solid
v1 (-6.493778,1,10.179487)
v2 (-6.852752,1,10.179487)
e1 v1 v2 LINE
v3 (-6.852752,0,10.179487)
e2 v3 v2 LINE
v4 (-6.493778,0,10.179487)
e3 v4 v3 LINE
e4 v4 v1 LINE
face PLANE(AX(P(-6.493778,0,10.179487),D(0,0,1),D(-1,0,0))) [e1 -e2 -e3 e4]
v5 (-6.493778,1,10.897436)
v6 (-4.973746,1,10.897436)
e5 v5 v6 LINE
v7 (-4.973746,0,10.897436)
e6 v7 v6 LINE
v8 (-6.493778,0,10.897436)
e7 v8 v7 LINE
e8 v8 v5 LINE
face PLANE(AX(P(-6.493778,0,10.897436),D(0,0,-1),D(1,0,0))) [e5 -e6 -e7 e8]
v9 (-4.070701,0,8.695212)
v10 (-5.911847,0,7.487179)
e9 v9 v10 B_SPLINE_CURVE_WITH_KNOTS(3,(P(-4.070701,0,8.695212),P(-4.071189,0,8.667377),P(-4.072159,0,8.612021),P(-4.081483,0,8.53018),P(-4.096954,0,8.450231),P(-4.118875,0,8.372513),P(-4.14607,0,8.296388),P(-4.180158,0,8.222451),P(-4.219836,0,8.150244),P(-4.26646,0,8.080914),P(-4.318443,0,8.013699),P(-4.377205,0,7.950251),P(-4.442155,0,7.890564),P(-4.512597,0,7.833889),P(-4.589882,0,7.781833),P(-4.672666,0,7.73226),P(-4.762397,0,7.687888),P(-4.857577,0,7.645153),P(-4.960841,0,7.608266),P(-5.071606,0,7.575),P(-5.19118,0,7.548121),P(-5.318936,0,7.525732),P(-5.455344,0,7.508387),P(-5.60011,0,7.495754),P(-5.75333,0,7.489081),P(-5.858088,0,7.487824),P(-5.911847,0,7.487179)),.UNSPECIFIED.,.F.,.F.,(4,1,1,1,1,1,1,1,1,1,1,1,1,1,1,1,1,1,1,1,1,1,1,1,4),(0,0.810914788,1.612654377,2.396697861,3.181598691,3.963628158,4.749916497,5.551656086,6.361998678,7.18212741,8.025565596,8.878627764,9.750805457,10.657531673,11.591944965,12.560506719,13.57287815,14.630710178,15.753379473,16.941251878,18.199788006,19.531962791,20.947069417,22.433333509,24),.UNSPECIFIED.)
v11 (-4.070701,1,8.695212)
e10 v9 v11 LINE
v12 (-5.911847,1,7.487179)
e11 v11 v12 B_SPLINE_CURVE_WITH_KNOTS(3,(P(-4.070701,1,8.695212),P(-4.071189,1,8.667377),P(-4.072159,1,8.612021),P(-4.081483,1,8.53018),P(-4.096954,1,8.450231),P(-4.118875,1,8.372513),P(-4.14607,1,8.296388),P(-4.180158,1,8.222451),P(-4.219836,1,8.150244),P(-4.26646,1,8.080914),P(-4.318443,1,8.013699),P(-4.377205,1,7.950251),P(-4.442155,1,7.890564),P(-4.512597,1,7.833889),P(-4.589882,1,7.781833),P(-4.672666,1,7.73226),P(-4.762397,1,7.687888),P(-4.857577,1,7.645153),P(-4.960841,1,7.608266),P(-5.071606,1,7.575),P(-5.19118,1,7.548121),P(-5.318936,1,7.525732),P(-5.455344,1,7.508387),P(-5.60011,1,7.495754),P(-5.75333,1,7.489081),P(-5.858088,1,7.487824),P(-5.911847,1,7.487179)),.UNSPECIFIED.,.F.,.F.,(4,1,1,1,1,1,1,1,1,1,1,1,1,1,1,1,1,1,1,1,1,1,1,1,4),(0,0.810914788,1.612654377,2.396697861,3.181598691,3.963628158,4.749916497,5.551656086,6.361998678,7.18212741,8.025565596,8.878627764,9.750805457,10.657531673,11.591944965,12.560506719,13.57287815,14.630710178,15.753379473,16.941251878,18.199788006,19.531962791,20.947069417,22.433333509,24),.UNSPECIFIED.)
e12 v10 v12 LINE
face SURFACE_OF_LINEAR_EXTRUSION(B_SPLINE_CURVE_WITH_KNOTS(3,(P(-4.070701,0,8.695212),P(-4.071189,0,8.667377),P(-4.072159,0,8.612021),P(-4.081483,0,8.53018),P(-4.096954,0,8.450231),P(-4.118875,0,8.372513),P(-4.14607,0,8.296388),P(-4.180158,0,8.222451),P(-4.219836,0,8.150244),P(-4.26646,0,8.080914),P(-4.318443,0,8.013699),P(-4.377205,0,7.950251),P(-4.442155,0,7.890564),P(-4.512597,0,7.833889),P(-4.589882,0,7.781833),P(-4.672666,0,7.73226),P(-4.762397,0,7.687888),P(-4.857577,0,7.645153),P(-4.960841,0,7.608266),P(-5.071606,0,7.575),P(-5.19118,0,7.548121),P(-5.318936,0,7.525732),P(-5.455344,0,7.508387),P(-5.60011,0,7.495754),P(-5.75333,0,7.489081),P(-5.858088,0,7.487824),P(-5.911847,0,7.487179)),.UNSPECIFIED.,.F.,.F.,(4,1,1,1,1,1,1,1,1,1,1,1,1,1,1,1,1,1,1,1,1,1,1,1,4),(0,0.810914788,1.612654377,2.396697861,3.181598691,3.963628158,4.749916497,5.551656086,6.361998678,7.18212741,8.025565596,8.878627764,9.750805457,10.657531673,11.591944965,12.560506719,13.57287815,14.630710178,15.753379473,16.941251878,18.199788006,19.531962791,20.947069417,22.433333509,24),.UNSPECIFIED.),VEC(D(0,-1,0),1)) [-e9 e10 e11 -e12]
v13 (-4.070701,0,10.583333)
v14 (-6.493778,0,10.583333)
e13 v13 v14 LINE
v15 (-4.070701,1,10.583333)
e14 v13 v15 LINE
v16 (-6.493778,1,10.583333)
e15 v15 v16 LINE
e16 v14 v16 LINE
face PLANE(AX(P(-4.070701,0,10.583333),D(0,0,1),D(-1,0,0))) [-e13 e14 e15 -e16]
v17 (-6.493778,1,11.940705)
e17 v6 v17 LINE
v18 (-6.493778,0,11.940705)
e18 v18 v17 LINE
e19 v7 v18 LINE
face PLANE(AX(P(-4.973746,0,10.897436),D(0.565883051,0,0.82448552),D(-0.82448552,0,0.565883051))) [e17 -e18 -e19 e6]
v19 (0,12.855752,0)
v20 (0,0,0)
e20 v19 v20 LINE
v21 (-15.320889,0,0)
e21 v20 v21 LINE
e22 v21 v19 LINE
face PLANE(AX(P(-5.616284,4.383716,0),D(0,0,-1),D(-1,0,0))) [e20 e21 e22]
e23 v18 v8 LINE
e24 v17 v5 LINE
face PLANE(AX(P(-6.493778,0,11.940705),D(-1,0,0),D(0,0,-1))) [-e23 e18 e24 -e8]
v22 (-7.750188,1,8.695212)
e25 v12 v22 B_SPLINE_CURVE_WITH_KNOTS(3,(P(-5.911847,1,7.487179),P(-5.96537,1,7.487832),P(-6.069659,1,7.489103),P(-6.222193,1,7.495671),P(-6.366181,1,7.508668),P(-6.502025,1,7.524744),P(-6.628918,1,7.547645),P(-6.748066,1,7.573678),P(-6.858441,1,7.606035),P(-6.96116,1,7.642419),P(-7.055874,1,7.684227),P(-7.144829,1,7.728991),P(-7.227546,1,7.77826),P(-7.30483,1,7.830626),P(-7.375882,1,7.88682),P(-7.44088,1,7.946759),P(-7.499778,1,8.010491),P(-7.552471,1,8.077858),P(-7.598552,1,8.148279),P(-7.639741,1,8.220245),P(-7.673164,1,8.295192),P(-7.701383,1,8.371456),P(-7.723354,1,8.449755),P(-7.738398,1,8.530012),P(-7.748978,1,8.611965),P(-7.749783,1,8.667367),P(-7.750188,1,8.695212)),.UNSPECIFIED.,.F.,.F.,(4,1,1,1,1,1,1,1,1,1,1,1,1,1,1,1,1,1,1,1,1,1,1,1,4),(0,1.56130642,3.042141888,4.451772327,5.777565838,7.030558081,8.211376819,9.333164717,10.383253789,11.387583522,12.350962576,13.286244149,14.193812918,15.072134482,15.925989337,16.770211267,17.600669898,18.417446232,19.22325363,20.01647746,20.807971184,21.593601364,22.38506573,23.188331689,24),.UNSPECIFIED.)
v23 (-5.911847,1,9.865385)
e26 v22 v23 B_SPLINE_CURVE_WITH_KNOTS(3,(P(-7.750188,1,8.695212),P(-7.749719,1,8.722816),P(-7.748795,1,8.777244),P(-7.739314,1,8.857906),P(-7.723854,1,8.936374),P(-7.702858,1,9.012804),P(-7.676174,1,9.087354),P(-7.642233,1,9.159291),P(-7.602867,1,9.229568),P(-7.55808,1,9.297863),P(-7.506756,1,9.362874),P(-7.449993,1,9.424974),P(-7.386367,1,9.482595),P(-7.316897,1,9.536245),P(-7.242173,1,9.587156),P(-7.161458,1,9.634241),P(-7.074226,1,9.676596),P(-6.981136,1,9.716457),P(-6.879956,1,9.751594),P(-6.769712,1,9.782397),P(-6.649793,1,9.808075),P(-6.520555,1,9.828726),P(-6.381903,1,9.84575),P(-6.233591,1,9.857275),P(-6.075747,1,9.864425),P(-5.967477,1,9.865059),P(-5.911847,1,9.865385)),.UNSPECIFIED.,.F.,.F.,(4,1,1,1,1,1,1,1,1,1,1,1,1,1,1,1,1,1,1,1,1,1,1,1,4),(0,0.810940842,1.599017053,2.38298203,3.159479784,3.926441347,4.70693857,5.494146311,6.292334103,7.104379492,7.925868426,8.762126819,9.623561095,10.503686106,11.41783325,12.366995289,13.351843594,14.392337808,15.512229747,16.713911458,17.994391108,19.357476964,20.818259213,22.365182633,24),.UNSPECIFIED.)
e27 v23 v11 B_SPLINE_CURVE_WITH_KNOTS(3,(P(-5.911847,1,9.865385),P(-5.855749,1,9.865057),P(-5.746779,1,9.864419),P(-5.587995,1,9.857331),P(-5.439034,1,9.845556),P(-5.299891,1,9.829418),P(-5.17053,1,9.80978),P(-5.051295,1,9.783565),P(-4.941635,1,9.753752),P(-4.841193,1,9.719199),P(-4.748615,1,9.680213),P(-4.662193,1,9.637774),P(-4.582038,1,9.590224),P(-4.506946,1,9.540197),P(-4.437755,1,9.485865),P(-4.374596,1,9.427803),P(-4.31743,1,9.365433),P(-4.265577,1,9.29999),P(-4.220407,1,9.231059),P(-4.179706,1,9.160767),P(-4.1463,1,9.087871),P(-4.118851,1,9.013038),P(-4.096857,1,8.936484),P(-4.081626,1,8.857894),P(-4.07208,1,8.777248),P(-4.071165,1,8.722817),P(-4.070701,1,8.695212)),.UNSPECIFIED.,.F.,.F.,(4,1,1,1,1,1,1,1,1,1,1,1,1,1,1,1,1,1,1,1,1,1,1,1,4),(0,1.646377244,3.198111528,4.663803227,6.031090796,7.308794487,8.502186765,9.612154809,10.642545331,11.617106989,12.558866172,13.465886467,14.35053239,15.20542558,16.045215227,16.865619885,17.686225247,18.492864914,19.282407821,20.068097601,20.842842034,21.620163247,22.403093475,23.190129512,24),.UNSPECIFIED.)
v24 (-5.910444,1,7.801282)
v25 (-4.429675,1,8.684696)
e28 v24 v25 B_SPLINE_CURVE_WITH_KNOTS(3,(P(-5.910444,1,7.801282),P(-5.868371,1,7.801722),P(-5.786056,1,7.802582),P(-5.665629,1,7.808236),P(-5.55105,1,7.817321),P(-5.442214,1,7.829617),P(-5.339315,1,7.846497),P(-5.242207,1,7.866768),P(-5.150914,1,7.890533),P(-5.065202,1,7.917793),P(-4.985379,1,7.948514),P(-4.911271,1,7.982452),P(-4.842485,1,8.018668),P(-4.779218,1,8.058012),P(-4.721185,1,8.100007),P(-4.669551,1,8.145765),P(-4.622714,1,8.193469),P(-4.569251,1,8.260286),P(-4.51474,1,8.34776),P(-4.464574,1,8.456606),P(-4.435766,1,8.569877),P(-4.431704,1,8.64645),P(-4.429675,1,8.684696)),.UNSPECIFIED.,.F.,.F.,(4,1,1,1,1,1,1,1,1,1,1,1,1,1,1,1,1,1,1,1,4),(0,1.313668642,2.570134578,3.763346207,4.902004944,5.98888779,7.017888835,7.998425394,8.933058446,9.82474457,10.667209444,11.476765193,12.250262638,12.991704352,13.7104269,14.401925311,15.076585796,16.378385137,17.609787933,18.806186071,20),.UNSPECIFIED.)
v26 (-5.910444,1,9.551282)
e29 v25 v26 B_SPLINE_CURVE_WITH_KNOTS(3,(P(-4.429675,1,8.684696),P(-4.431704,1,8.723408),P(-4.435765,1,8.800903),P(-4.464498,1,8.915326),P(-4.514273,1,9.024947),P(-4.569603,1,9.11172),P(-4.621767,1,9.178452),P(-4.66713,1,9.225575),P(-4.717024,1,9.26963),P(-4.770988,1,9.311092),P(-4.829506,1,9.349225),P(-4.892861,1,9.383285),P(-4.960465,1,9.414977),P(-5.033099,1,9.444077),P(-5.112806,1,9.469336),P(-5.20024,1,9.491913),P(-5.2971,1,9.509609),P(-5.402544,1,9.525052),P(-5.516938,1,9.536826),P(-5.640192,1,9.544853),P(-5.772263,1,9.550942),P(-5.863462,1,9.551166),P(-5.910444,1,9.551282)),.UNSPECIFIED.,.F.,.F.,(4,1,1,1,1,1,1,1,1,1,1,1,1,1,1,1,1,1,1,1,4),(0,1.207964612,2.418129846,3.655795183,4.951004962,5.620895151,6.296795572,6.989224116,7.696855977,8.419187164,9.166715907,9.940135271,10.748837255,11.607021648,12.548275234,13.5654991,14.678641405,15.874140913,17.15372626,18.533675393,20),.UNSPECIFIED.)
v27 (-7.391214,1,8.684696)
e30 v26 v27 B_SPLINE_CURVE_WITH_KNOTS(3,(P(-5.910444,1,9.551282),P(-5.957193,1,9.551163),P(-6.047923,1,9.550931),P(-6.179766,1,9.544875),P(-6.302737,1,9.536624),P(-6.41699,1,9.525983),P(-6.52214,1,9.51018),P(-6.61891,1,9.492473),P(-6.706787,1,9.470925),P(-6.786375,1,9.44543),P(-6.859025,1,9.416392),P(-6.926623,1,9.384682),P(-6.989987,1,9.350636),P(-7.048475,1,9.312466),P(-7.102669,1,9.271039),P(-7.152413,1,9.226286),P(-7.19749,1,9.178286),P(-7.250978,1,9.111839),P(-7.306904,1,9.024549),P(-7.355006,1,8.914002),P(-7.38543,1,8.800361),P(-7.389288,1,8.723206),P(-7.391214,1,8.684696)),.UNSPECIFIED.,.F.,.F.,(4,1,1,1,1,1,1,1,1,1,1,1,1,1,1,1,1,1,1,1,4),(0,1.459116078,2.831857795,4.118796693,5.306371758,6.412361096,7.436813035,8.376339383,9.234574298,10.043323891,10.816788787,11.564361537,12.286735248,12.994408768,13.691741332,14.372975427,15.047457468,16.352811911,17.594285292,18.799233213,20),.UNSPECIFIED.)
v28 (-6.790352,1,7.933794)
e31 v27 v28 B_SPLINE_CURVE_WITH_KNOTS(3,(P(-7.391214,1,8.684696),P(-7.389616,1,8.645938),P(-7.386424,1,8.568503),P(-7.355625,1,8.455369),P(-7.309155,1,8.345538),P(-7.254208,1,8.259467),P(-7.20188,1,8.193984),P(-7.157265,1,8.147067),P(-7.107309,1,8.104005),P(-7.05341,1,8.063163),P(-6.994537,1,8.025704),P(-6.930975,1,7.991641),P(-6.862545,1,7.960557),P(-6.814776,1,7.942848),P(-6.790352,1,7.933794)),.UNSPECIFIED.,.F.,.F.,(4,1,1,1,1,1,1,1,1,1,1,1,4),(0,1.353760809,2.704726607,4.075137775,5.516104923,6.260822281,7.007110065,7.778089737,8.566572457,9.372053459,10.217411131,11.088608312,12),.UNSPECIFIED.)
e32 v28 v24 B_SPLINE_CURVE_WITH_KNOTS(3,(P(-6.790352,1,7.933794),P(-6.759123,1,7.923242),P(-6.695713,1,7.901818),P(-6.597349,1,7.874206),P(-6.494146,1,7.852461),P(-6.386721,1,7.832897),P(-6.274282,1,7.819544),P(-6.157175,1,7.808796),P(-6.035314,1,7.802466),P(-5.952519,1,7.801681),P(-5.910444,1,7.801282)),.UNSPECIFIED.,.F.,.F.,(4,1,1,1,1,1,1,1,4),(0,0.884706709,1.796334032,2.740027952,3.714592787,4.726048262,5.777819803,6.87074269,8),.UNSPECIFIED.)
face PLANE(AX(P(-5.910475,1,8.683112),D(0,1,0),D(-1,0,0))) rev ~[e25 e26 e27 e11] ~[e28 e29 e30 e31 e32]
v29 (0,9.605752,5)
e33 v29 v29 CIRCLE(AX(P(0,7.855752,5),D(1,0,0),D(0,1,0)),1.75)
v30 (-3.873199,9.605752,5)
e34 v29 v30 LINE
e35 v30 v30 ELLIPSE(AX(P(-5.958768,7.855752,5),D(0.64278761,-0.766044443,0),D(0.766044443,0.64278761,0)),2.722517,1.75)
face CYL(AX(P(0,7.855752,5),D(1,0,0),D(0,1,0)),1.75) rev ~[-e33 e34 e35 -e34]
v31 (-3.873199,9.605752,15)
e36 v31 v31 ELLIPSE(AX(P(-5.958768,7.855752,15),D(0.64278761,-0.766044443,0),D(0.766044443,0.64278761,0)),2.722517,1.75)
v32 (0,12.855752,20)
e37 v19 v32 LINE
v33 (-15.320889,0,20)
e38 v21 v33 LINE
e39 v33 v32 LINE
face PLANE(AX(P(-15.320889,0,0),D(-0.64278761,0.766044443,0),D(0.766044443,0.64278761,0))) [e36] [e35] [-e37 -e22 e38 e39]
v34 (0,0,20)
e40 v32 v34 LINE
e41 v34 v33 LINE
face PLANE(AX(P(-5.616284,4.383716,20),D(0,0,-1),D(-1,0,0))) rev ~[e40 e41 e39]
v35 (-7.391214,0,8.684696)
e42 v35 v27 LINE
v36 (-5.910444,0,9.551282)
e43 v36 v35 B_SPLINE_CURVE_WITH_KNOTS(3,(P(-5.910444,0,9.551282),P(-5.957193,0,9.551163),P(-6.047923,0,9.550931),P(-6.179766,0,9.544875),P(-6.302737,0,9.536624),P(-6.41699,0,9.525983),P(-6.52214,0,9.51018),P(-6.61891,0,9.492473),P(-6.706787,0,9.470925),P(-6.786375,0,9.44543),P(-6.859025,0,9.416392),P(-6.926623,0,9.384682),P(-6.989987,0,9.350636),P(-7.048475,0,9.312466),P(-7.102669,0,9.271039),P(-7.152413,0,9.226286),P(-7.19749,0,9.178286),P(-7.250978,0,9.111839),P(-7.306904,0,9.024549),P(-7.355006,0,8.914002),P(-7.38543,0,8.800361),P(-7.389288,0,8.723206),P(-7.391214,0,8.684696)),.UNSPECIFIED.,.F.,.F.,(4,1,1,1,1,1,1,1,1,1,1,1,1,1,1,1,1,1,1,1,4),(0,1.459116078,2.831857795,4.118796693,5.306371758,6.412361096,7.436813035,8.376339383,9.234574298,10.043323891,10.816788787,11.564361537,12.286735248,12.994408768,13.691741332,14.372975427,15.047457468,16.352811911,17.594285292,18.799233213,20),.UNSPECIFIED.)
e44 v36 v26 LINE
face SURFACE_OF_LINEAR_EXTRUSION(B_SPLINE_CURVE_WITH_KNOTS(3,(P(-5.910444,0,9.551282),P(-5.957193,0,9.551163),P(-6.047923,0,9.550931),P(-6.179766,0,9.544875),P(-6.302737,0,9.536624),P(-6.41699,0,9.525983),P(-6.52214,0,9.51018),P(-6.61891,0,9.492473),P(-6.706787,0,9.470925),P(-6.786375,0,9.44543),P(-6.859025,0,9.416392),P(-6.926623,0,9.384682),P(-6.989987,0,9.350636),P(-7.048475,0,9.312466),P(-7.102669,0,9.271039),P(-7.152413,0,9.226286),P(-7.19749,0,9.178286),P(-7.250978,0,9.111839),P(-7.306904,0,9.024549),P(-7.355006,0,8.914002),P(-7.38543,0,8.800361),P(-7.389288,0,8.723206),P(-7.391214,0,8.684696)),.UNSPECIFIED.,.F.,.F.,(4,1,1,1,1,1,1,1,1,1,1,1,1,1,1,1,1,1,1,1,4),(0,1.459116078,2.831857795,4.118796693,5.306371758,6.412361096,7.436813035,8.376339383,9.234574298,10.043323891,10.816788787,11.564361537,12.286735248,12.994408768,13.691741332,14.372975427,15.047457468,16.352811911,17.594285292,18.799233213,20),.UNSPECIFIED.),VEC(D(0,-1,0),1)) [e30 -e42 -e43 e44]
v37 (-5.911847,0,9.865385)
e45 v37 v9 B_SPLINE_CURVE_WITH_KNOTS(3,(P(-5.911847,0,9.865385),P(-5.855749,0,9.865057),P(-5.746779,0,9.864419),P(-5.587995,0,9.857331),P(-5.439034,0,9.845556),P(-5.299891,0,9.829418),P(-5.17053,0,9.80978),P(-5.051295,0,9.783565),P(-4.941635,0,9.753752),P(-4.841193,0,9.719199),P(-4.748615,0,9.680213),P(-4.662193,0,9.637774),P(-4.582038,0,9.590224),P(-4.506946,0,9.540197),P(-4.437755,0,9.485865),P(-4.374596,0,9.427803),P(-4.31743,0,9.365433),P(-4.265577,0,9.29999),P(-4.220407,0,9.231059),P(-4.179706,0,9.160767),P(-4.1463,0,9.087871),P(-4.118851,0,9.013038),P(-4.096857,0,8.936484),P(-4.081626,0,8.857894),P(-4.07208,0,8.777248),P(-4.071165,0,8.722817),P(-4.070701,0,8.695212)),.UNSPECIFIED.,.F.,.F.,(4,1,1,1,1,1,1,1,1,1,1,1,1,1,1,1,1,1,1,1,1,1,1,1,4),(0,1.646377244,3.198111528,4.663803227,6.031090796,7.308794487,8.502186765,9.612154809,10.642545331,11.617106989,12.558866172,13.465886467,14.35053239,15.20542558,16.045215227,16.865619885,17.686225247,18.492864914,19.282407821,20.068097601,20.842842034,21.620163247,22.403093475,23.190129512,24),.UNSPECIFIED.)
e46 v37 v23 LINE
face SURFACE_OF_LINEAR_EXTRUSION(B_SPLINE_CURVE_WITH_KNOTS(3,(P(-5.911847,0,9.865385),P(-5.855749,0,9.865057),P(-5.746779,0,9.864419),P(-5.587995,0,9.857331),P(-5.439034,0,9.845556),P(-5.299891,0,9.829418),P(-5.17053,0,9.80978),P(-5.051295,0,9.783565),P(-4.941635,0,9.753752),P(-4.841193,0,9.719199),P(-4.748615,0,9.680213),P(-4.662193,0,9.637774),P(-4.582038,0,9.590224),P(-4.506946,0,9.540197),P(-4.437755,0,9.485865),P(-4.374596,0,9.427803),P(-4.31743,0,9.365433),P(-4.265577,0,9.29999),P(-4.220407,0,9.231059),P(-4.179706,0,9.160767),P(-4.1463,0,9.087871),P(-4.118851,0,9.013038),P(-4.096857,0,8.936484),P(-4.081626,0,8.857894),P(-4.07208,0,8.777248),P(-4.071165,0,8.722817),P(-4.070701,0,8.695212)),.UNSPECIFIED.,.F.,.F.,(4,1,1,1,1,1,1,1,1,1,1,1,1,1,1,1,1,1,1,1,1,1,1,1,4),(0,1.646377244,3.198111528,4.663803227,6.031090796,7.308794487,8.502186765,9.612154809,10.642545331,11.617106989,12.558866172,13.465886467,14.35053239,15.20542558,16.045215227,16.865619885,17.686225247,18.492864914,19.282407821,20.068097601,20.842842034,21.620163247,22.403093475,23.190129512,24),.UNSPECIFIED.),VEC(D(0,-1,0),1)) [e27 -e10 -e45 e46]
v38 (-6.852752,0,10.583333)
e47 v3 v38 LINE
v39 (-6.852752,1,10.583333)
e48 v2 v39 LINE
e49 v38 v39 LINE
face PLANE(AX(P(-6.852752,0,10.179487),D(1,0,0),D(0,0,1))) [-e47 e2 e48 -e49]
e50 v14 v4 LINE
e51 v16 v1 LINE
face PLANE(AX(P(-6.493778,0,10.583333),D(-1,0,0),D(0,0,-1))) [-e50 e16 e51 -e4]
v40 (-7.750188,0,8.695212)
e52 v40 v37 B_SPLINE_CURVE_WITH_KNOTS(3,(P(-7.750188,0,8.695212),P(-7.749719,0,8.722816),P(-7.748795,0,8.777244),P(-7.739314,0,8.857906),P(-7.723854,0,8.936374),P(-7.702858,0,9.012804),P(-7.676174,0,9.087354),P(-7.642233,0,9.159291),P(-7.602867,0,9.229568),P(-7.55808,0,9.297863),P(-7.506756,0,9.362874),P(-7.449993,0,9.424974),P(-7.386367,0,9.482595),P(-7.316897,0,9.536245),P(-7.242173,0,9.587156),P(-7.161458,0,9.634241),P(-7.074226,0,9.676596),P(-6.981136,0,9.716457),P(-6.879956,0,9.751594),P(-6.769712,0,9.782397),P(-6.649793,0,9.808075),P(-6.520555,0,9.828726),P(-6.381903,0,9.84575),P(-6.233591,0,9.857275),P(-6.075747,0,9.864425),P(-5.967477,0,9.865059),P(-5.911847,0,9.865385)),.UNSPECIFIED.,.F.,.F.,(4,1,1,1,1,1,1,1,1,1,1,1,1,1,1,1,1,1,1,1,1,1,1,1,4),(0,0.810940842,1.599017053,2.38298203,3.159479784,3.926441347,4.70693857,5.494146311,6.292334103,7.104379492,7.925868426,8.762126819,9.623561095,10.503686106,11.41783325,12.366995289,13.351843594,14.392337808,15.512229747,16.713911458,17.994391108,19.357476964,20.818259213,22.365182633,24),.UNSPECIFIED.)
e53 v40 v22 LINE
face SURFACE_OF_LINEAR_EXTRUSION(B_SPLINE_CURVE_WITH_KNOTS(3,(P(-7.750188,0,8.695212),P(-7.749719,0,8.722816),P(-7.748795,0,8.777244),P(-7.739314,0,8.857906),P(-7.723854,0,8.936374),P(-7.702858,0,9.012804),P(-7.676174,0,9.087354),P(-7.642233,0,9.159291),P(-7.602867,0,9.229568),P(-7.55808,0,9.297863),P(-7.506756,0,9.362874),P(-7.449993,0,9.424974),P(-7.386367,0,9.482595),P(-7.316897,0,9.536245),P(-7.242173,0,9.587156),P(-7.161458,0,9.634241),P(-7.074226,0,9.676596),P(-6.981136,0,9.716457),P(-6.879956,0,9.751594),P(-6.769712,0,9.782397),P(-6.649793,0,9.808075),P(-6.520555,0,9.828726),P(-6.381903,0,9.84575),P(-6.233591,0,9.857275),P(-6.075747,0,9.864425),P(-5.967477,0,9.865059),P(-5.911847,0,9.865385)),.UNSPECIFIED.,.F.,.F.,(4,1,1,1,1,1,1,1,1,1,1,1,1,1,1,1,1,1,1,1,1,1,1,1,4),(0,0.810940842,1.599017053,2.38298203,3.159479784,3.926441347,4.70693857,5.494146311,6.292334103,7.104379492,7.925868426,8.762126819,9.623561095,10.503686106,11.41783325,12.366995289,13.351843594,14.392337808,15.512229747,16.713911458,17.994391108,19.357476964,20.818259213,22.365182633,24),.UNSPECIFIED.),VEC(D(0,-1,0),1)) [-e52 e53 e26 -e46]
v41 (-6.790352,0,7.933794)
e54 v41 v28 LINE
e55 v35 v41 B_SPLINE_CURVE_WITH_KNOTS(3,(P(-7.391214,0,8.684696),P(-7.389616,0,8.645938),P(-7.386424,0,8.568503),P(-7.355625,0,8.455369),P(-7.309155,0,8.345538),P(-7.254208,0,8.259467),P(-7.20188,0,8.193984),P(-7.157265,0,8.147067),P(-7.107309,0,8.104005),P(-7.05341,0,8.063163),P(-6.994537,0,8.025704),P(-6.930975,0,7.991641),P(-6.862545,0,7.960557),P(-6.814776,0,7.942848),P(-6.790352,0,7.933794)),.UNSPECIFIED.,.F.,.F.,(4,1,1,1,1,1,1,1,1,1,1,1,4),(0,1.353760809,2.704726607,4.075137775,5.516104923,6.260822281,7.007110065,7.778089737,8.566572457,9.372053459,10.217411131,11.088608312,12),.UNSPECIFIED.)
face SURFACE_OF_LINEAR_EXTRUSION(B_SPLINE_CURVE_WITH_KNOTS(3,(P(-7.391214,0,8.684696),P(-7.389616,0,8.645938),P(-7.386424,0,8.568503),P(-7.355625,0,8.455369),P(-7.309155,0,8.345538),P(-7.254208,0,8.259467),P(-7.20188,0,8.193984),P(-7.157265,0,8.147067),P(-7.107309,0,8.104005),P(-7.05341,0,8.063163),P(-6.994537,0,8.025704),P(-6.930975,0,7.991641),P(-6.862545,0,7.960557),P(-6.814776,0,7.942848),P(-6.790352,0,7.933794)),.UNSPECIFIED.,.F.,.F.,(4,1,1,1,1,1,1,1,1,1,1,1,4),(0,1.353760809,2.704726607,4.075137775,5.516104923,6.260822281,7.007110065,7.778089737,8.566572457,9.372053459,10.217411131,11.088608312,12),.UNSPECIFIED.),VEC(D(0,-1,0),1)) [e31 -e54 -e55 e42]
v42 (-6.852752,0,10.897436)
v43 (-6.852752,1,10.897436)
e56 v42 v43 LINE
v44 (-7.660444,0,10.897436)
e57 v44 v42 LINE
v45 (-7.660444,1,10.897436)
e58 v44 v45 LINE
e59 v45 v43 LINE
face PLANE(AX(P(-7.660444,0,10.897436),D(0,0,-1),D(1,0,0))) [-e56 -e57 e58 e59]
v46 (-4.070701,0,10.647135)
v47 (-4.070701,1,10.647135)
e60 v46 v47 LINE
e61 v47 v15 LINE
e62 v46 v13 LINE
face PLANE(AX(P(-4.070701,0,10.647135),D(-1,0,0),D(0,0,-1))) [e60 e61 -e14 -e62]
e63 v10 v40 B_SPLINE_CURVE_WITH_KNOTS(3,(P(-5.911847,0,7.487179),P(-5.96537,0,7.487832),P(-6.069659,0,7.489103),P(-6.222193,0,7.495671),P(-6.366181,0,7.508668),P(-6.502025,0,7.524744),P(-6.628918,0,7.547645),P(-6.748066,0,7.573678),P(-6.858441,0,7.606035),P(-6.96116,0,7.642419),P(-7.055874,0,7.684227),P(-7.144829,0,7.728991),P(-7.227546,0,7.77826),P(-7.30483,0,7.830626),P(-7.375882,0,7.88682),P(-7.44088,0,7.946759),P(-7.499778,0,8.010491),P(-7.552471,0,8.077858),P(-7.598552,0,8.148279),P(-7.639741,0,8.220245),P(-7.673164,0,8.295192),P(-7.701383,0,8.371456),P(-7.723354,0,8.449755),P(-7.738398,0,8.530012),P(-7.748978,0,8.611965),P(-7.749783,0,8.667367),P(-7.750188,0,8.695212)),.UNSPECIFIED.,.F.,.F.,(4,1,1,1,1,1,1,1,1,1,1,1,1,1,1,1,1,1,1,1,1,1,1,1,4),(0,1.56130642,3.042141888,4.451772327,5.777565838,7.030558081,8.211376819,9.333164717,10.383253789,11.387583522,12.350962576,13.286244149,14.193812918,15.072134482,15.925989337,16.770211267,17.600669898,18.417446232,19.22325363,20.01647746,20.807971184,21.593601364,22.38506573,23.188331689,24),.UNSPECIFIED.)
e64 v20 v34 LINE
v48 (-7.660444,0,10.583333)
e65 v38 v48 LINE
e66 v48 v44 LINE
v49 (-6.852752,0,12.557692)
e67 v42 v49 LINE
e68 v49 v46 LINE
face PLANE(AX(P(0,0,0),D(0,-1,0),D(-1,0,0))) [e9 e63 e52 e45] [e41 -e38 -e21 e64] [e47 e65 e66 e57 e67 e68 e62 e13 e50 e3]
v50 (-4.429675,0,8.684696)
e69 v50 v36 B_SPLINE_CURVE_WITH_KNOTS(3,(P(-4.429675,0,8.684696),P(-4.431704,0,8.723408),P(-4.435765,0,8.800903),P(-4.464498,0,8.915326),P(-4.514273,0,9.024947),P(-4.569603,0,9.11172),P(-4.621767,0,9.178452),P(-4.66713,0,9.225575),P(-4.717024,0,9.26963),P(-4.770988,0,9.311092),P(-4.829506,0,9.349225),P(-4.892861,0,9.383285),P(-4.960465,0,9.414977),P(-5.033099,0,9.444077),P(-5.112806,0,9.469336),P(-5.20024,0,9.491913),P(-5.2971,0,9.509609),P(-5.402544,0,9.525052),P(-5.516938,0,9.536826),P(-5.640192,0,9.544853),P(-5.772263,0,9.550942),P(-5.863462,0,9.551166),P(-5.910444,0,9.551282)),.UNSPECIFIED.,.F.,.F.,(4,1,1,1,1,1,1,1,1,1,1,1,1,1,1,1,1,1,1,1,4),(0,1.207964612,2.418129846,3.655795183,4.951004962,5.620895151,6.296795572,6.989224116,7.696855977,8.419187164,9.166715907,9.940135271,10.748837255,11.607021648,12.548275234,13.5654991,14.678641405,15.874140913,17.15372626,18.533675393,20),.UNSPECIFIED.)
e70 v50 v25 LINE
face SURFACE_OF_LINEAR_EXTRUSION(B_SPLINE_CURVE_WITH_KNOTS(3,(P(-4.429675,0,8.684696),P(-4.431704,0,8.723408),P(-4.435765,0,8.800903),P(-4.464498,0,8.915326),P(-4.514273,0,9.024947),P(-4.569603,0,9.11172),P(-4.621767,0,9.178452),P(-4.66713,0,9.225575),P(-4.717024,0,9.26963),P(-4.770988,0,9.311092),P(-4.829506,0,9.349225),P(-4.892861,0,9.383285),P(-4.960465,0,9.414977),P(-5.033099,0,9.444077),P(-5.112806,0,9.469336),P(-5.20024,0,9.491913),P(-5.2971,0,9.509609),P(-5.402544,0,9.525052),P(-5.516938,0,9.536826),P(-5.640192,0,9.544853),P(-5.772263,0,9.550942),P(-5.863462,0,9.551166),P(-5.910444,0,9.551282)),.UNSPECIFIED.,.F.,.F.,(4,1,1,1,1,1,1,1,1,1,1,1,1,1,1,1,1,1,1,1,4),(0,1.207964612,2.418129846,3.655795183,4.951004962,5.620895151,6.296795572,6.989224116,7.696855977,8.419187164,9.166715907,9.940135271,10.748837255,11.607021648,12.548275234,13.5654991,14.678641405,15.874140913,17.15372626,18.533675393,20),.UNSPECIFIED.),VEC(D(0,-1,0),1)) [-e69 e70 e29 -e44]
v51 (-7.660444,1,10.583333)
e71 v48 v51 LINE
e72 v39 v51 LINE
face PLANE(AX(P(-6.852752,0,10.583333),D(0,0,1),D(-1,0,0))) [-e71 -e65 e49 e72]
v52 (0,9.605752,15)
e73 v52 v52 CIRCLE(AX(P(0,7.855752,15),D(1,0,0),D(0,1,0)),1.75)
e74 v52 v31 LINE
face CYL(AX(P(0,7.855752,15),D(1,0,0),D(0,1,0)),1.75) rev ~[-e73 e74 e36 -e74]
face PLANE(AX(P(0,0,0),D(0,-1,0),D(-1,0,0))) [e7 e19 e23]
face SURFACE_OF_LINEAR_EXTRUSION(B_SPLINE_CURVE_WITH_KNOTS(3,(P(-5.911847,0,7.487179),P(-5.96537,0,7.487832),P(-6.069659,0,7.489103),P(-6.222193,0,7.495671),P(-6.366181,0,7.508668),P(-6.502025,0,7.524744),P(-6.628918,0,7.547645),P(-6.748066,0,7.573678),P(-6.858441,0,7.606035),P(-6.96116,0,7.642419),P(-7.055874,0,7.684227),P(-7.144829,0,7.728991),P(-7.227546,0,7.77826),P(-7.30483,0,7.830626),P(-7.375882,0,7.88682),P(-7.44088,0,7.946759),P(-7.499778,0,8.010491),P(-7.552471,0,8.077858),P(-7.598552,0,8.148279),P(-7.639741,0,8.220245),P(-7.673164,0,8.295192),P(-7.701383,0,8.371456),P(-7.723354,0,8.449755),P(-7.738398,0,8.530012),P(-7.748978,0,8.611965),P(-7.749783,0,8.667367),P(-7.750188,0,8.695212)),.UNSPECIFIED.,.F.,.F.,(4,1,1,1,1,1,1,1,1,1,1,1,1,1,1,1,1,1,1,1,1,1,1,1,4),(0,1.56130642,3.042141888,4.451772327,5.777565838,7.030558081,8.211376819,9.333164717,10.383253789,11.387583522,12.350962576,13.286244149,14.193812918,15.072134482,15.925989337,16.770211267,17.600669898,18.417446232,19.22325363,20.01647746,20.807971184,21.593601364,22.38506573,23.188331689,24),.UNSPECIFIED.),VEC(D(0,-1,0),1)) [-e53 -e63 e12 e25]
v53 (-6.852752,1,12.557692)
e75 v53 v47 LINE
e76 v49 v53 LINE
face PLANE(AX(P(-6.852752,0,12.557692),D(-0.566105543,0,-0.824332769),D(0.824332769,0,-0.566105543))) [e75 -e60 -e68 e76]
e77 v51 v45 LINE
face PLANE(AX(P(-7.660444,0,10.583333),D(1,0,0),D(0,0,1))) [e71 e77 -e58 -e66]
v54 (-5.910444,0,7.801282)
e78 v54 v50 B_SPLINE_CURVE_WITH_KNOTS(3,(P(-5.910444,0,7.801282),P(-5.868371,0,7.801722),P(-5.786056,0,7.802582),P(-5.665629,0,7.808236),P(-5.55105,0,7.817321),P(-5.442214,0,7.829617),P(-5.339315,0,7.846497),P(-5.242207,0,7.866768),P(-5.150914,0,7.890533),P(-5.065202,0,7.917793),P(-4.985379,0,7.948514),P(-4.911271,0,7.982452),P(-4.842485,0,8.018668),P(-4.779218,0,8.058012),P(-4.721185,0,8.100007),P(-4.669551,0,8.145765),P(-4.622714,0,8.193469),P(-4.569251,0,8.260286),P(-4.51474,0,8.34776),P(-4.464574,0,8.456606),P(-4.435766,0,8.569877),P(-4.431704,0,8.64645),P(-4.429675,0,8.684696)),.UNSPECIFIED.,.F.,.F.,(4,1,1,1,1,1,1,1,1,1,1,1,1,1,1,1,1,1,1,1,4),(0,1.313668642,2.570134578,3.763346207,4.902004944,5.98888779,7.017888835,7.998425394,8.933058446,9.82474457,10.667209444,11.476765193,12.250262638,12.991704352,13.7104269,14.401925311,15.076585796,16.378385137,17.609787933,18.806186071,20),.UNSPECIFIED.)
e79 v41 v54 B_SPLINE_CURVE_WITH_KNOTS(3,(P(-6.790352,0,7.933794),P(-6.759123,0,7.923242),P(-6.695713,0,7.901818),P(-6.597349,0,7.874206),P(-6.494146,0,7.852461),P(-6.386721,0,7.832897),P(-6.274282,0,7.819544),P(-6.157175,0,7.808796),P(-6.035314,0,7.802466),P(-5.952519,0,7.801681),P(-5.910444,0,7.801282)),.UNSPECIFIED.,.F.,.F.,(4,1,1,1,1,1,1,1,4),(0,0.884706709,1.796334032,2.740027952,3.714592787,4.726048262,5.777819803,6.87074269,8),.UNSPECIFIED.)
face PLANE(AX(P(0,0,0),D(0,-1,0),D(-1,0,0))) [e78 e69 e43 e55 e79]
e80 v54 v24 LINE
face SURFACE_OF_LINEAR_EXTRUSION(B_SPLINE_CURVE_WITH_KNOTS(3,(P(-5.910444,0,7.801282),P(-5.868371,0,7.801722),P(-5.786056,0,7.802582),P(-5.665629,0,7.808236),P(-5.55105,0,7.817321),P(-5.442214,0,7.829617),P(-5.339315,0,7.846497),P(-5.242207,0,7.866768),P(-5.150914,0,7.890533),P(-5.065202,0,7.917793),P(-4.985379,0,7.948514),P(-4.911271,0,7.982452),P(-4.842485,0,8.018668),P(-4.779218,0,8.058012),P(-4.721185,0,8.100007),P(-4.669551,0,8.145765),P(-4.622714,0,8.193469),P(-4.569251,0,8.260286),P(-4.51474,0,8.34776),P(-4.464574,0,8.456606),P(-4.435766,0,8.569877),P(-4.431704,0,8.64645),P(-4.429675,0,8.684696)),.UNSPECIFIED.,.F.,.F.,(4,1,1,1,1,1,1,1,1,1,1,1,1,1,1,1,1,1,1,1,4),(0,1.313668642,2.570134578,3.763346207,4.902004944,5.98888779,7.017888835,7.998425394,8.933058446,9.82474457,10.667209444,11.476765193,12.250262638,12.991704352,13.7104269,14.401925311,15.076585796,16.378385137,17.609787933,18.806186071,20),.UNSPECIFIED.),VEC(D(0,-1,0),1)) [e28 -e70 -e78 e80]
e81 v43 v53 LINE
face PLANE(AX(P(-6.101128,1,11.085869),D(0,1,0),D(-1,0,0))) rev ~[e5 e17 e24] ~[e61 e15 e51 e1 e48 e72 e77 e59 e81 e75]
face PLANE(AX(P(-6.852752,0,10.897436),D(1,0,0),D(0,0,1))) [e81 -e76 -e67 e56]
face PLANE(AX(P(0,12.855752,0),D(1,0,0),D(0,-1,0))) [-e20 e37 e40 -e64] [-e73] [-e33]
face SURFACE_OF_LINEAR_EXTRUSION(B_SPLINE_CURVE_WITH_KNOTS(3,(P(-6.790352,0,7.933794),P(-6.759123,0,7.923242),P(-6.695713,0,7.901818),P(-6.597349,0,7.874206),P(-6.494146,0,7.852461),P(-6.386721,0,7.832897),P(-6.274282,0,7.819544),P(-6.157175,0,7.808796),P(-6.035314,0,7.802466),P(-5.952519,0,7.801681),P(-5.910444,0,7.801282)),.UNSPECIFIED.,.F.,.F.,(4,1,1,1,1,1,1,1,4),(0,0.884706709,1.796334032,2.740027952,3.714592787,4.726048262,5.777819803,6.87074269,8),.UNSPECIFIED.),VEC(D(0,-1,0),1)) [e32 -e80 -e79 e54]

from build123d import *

# Parameters (mm, degrees)
BOSS_EXTRUDE1_DEPTH = 20
CUT_EXTRUDE1_REACH  = 30.284
SKETCH3_R           = 1.75
CUT_EXTRUDE2_DEPTH  = 1


with BuildPart() as part:
    # Sketch1 → Boss-Extrude1 (new body)
    with BuildSketch(Plane.XY):
        Polygon((0, 0), (-15.320888862, 0), (0, 12.855752194), align=None)
    extrude(amount=BOSS_EXTRUDE1_DEPTH)

    # Cut-Extrude1: up to this plane
    cut_extrude1_end = Plane(origin=(-15.320888862, 0, 20), z_dir=(0.6427876096865347, -0.7660444431189819, 0))
    # Sketch3 → Cut-Extrude1 (cut, up to the surface)
    with BuildSketch(Plane(origin=(0, 0, 0), x_dir=(0, 0, -1), z_dir=(1, 0, 0)), mode=Mode.PRIVATE) as cut_extrude1_sk1:
        with Locations(Location((-5, 7.855752194, 0), (0, 0, 90))):
            Circle(SKETCH3_R)
    cut_extrude1_tool1 = split(extrude(cut_extrude1_sk1.sketch, amount=-CUT_EXTRUDE1_REACH, mode=Mode.PRIVATE), bisect_by=cut_extrude1_end, keep=Keep.BOTH, mode=Mode.PRIVATE)
    add(cut_extrude1_tool1.solids().sort_by_distance((0, 7.855752, 5))[0], mode=Mode.SUBTRACT)
    # Sketch3 → Cut-Extrude1 (cut, up to the surface)
    with BuildSketch(Plane(origin=(0, 0, 0), x_dir=(0, 0, -1), z_dir=(1, 0, 0)), mode=Mode.PRIVATE) as cut_extrude1_sk2:
        with Locations(Location((-15, 7.855752194, 0), (0, 0, 90))):
            Circle(SKETCH3_R)
    cut_extrude1_tool2 = split(extrude(cut_extrude1_sk2.sketch, amount=-CUT_EXTRUDE1_REACH, mode=Mode.PRIVATE), bisect_by=cut_extrude1_end, keep=Keep.BOTH, mode=Mode.PRIVATE)
    add(cut_extrude1_tool2.solids().sort_by_distance((0, 7.855752, 15))[0], mode=Mode.SUBTRACT)

    # Sketch4 → Cut-Extrude2 (cut)
    # profile 1 of 2: a face of its own
    with BuildSketch(Plane.XZ):
        with BuildLine():
            add(Edge.make_bspline(
                [(-5.911846675, 9.865384615), (-5.855749287, 9.865056597), (-5.746779303, 9.864419417), (-5.587994661, 9.857330996), (-5.439034371, 9.845555655), (-5.299891307, 9.829418279), (-5.170529535, 9.809780308), (-5.051294804, 9.783564792), (-4.941635109, 9.753752086), (-4.841193358, 9.719199315), (-4.748614631, 9.680212646), (-4.662193041, 9.637774437), (-4.582038305, 9.590223642), (-4.506946286, 9.540196681), (-4.437755047, 9.485865435), (-4.374595619, 9.427802965), (-4.317429865, 9.365433315), (-4.265577415, 9.299990015), (-4.220407322, 9.231059481), (-4.179706065, 9.160766611), (-4.146300055, 9.087871031), (-4.118851035, 9.013037572), (-4.096856831, 8.936483858), (-4.081625887, 8.857893574), (-4.07208018, 8.777247733), (-4.071164983, 8.72281691), (-4.070700841, 8.69521234)],
                knots=[0, 0, 0, 0, 1.646377244, 3.198111528, 4.663803227, 6.031090796, 7.308794487, 8.502186765, 9.612154809, 10.642545331, 11.617106989, 12.558866172, 13.465886467, 14.35053239, 15.20542558, 16.045215227, 16.865619885, 17.686225247, 18.492864914, 19.282407821, 20.068097601, 20.842842034, 21.620163247, 22.403093475, 23.190129512, 24, 24, 24, 24], degree=3))
            add(Edge.make_bspline(
                [(-4.070700841, 8.69521234), (-4.071188657, 8.667376861), (-4.072158768, 8.612020852), (-4.08148271, 8.530180477), (-4.096953833, 8.450230795), (-4.118874808, 8.372512657), (-4.146070484, 8.29638767), (-4.180157602, 8.222451263), (-4.219836469, 8.150244181), (-4.266460346, 8.080913893), (-4.318442622, 8.013699278), (-4.377205291, 7.950251315), (-4.44215501, 7.890564229), (-4.512596874, 7.833888924), (-4.589881959, 7.781833327), (-4.672666069, 7.732259894), (-4.762396934, 7.687887858), (-4.857577402, 7.645153183), (-4.96084106, 7.608266197), (-5.071605821, 7.574999951), (-5.191180008, 7.548120983), (-5.318936253, 7.52573171), (-5.455343736, 7.508386814), (-5.600110052, 7.495754172), (-5.753330442, 7.489081087), (-5.858088292, 7.487824386), (-5.911846675, 7.487179487)],
                knots=[0, 0, 0, 0, 0.810914788, 1.612654377, 2.396697861, 3.181598691, 3.963628158, 4.749916497, 5.551656086, 6.361998678, 7.18212741, 8.025565596, 8.878627764, 9.750805457, 10.657531673, 11.591944965, 12.560506719, 13.57287815, 14.630710178, 15.753379473, 16.941251878, 18.199788006, 19.531962791, 20.947069417, 22.433333509, 24, 24, 24, 24], degree=3))
            add(Edge.make_bspline(
                [(-5.911846675, 7.487179487), (-5.965370383, 7.487831877), (-6.069659145, 7.489103032), (-6.222192885, 7.495670613), (-6.366181214, 7.508668333), (-6.502024942, 7.524744462), (-6.628917519, 7.547644686), (-6.748065541, 7.573678205), (-6.85844078, 7.606035075), (-6.961159835, 7.64241929), (-7.05587398, 7.684226665), (-7.144829164, 7.728990868), (-7.227545725, 7.778260008), (-7.304829686, 7.830626053), (-7.375882464, 7.886819625), (-7.440879663, 7.946759451), (-7.499778411, 8.010491153), (-7.552470928, 8.077857734), (-7.598552071, 8.148278684), (-7.6397412, 8.220244748), (-7.673163625, 8.295192302), (-7.701382826, 8.371455698), (-7.723354231, 8.449754531), (-7.738397903, 8.530012), (-7.748977846, 8.611965265), (-7.749783232, 8.667367231), (-7.750188021, 8.69521234)],
                knots=[0, 0, 0, 0, 1.56130642, 3.042141888, 4.451772327, 5.777565838, 7.030558081, 8.211376819, 9.333164717, 10.383253789, 11.387583522, 12.350962576, 13.286244149, 14.193812918, 15.072134482, 15.925989337, 16.770211267, 17.600669898, 18.417446232, 19.22325363, 20.01647746, 20.807971184, 21.593601364, 22.38506573, 23.188331689, 24, 24, 24, 24], degree=3))
            add(Edge.make_bspline(
                [(-7.750188021, 8.69521234), (-7.749719413, 8.722815788), (-7.748795409, 8.777244401), (-7.739314215, 8.857906439), (-7.723853582, 8.936374154), (-7.702858119, 9.012804408), (-7.67617413, 9.087353616), (-7.642233085, 9.159291496), (-7.602866753, 9.2295681), (-7.558080183, 9.297862753), (-7.50675594, 9.3628738), (-7.449992852, 9.424973717), (-7.386367185, 9.482594504), (-7.316897365, 9.536244807), (-7.242172844, 9.58715603), (-7.161457528, 9.634240862), (-7.074226219, 9.676596293), (-6.981136428, 9.716456686), (-6.87995648, 9.751593547), (-6.769711906, 9.782396514), (-6.649792857, 9.808075096), (-6.520555338, 9.828725945), (-6.38190262, 9.845750492), (-6.233590578, 9.857275238), (-6.075747171, 9.864425062), (-5.967477141, 9.865058928), (-5.911846675, 9.865384615)],
                knots=[0, 0, 0, 0, 0.810940842, 1.599017053, 2.38298203, 3.159479784, 3.926441347, 4.70693857, 5.494146311, 6.292334103, 7.104379492, 7.925868426, 8.762126819, 9.623561095, 10.503686106, 11.41783325, 12.366995289, 13.351843594, 14.392337808, 15.512229747, 16.713911458, 17.994391108, 19.357476964, 20.818259213, 22.365182633, 24, 24, 24, 24], degree=3))
        make_face()
        with BuildLine():
            add(Edge.make_bspline(
                [(-5.910444431, 9.551282051), (-5.95719313, 9.551162604), (-6.047923175, 9.550930781), (-6.179766436, 9.54487458), (-6.302736765, 9.536624349), (-6.416990299, 9.525983049), (-6.52214032, 9.51018011), (-6.618909975, 9.492473291), (-6.706787304, 9.470925304), (-6.786374812, 9.445429949), (-6.859024912, 9.416392001), (-6.926622524, 9.384682123), (-6.989987212, 9.350635607), (-7.048475401, 9.312465852), (-7.102669298, 9.271038631), (-7.152413166, 9.226285917), (-7.19748996, 9.178286418), (-7.250977945, 9.111839375), (-7.306904454, 9.024548906), (-7.355005521, 8.914002071), (-7.3854296, 8.800360685), (-7.389287877, 8.723205872), (-7.391213662, 8.684695513)],
                knots=[0, 0, 0, 0, 1.459116078, 2.831857795, 4.118796693, 5.306371758, 6.412361096, 7.436813035, 8.376339383, 9.234574298, 10.043323891, 10.816788787, 11.564361537, 12.286735248, 12.994408768, 13.691741332, 14.372975427, 15.047457468, 16.352811911, 17.594285292, 18.799233213, 20, 20, 20, 20], degree=3))
            add(Edge.make_bspline(
                [(-7.391213662, 8.684695513), (-7.389615881, 8.645937841), (-7.386423618, 8.568502518), (-7.355624881, 8.455368723), (-7.309155342, 8.345538453), (-7.254207836, 8.259466512), (-7.201879507, 8.193983969), (-7.157264858, 8.147066979), (-7.107308991, 8.10400493), (-7.053409695, 8.063162856), (-6.994537211, 8.02570378), (-6.930974636, 7.991640642), (-6.862545458, 7.960557295), (-6.814775719, 7.942848249), (-6.790352284, 7.933794071)],
                knots=[0, 0, 0, 0, 1.353760809, 2.704726607, 4.075137775, 5.516104923, 6.260822281, 7.007110065, 7.778089737, 8.566572457, 9.372053459, 10.217411131, 11.088608312, 12, 12, 12, 12], degree=3))
            add(Edge.make_bspline(
                [(-6.790352284, 7.933794071), (-6.759122544, 7.923242303), (-6.69571278, 7.901817689), (-6.597349128, 7.874205915), (-6.494146364, 7.852460515), (-6.386721247, 7.83289715), (-6.274281546, 7.819544094), (-6.157175162, 7.80879628), (-6.0353138, 7.802465594), (-5.952518809, 7.801680842), (-5.910444431, 7.801282051)],
                knots=[0, 0, 0, 0, 0.884706709, 1.796334032, 2.740027952, 3.714592787, 4.726048262, 5.777819803, 6.87074269, 8, 8, 8, 8], degree=3))
            add(Edge.make_bspline(
                [(-5.910444431, 7.801282051), (-5.868370958, 7.801721875), (-5.786056068, 7.802582372), (-5.665629311, 7.80823591), (-5.551049969, 7.817320676), (-5.4422141, 7.829616707), (-5.339315419, 7.846496558), (-5.242206679, 7.866767579), (-5.150914061, 7.890533025), (-5.065202128, 7.9177927), (-4.985378952, 7.948513976), (-4.911270741, 7.982451775), (-4.842484619, 8.018668005), (-4.779218028, 8.058011632), (-4.721185397, 8.100006966), (-4.669550825, 8.145764604), (-4.622713851, 8.193468954), (-4.569251284, 8.260286147), (-4.514739588, 8.347760433), (-4.464573828, 8.456606082), (-4.435765535, 8.569876726), (-4.431703848, 8.64645018), (-4.4296752, 8.684695513)],
                knots=[0, 0, 0, 0, 1.313668642, 2.570134578, 3.763346207, 4.902004944, 5.98888779, 7.017888835, 7.998425394, 8.933058446, 9.82474457, 10.667209444, 11.476765193, 12.250262638, 12.991704352, 13.7104269, 14.401925311, 15.076585796, 16.378385137, 17.609787933, 18.806186071, 20, 20, 20, 20], degree=3))
            add(Edge.make_bspline(
                [(-4.4296752, 8.684695513), (-4.43170403, 8.72340773), (-4.435765385, 8.80090269), (-4.464498285, 8.915326021), (-4.514272533, 9.024947029), (-4.569603302, 9.111719517), (-4.621767413, 9.178452408), (-4.667129522, 9.225575145), (-4.717023873, 9.269629998), (-4.770988327, 9.311091733), (-4.829506015, 9.349224743), (-4.892861488, 9.383285193), (-4.960465382, 9.414976868), (-5.033098953, 9.444077159), (-5.112806444, 9.469336238), (-5.200240265, 9.491913196), (-5.297100307, 9.509609273), (-5.402544299, 9.525051618), (-5.516938287, 9.536825531), (-5.640192121, 9.544853401), (-5.77226338, 9.550941739), (-5.863461555, 9.551166342), (-5.910444431, 9.551282051)],
                knots=[0, 0, 0, 0, 1.207964612, 2.418129846, 3.655795183, 4.951004962, 5.620895151, 6.296795572, 6.989224116, 7.696855977, 8.419187164, 9.166715907, 9.940135271, 10.748837255, 11.607021648, 12.548275234, 13.5654991, 14.678641405, 15.874140913, 17.15372626, 18.533675393, 20, 20, 20, 20], degree=3))
        make_face(mode=Mode.SUBTRACT)
    # profile 2 of 2: a face of its own
    with BuildSketch(Plane.XZ):
        Polygon((-4.070700841, 10.647135417), (-4.070700841, 10.583333333), (-6.493777765, 10.583333333), (-6.493777765, 10.179487179), (-6.852752123, 10.179487179), (-6.852752123, 10.583333333), (-7.660444431, 10.583333333), (-7.660444431, 10.897435897), (-6.852752123, 10.897435897), (-6.852752123, 12.557692308), align=None)
        Polygon((-6.493777765, 10.897435897), (-4.973745713, 10.897435897), (-6.493777765, 11.940705128), align=None, mode=Mode.SUBTRACT)
    extrude(amount=-CUT_EXTRUDE2_DEPTH, mode=Mode.SUBTRACT)


solid = part.part
